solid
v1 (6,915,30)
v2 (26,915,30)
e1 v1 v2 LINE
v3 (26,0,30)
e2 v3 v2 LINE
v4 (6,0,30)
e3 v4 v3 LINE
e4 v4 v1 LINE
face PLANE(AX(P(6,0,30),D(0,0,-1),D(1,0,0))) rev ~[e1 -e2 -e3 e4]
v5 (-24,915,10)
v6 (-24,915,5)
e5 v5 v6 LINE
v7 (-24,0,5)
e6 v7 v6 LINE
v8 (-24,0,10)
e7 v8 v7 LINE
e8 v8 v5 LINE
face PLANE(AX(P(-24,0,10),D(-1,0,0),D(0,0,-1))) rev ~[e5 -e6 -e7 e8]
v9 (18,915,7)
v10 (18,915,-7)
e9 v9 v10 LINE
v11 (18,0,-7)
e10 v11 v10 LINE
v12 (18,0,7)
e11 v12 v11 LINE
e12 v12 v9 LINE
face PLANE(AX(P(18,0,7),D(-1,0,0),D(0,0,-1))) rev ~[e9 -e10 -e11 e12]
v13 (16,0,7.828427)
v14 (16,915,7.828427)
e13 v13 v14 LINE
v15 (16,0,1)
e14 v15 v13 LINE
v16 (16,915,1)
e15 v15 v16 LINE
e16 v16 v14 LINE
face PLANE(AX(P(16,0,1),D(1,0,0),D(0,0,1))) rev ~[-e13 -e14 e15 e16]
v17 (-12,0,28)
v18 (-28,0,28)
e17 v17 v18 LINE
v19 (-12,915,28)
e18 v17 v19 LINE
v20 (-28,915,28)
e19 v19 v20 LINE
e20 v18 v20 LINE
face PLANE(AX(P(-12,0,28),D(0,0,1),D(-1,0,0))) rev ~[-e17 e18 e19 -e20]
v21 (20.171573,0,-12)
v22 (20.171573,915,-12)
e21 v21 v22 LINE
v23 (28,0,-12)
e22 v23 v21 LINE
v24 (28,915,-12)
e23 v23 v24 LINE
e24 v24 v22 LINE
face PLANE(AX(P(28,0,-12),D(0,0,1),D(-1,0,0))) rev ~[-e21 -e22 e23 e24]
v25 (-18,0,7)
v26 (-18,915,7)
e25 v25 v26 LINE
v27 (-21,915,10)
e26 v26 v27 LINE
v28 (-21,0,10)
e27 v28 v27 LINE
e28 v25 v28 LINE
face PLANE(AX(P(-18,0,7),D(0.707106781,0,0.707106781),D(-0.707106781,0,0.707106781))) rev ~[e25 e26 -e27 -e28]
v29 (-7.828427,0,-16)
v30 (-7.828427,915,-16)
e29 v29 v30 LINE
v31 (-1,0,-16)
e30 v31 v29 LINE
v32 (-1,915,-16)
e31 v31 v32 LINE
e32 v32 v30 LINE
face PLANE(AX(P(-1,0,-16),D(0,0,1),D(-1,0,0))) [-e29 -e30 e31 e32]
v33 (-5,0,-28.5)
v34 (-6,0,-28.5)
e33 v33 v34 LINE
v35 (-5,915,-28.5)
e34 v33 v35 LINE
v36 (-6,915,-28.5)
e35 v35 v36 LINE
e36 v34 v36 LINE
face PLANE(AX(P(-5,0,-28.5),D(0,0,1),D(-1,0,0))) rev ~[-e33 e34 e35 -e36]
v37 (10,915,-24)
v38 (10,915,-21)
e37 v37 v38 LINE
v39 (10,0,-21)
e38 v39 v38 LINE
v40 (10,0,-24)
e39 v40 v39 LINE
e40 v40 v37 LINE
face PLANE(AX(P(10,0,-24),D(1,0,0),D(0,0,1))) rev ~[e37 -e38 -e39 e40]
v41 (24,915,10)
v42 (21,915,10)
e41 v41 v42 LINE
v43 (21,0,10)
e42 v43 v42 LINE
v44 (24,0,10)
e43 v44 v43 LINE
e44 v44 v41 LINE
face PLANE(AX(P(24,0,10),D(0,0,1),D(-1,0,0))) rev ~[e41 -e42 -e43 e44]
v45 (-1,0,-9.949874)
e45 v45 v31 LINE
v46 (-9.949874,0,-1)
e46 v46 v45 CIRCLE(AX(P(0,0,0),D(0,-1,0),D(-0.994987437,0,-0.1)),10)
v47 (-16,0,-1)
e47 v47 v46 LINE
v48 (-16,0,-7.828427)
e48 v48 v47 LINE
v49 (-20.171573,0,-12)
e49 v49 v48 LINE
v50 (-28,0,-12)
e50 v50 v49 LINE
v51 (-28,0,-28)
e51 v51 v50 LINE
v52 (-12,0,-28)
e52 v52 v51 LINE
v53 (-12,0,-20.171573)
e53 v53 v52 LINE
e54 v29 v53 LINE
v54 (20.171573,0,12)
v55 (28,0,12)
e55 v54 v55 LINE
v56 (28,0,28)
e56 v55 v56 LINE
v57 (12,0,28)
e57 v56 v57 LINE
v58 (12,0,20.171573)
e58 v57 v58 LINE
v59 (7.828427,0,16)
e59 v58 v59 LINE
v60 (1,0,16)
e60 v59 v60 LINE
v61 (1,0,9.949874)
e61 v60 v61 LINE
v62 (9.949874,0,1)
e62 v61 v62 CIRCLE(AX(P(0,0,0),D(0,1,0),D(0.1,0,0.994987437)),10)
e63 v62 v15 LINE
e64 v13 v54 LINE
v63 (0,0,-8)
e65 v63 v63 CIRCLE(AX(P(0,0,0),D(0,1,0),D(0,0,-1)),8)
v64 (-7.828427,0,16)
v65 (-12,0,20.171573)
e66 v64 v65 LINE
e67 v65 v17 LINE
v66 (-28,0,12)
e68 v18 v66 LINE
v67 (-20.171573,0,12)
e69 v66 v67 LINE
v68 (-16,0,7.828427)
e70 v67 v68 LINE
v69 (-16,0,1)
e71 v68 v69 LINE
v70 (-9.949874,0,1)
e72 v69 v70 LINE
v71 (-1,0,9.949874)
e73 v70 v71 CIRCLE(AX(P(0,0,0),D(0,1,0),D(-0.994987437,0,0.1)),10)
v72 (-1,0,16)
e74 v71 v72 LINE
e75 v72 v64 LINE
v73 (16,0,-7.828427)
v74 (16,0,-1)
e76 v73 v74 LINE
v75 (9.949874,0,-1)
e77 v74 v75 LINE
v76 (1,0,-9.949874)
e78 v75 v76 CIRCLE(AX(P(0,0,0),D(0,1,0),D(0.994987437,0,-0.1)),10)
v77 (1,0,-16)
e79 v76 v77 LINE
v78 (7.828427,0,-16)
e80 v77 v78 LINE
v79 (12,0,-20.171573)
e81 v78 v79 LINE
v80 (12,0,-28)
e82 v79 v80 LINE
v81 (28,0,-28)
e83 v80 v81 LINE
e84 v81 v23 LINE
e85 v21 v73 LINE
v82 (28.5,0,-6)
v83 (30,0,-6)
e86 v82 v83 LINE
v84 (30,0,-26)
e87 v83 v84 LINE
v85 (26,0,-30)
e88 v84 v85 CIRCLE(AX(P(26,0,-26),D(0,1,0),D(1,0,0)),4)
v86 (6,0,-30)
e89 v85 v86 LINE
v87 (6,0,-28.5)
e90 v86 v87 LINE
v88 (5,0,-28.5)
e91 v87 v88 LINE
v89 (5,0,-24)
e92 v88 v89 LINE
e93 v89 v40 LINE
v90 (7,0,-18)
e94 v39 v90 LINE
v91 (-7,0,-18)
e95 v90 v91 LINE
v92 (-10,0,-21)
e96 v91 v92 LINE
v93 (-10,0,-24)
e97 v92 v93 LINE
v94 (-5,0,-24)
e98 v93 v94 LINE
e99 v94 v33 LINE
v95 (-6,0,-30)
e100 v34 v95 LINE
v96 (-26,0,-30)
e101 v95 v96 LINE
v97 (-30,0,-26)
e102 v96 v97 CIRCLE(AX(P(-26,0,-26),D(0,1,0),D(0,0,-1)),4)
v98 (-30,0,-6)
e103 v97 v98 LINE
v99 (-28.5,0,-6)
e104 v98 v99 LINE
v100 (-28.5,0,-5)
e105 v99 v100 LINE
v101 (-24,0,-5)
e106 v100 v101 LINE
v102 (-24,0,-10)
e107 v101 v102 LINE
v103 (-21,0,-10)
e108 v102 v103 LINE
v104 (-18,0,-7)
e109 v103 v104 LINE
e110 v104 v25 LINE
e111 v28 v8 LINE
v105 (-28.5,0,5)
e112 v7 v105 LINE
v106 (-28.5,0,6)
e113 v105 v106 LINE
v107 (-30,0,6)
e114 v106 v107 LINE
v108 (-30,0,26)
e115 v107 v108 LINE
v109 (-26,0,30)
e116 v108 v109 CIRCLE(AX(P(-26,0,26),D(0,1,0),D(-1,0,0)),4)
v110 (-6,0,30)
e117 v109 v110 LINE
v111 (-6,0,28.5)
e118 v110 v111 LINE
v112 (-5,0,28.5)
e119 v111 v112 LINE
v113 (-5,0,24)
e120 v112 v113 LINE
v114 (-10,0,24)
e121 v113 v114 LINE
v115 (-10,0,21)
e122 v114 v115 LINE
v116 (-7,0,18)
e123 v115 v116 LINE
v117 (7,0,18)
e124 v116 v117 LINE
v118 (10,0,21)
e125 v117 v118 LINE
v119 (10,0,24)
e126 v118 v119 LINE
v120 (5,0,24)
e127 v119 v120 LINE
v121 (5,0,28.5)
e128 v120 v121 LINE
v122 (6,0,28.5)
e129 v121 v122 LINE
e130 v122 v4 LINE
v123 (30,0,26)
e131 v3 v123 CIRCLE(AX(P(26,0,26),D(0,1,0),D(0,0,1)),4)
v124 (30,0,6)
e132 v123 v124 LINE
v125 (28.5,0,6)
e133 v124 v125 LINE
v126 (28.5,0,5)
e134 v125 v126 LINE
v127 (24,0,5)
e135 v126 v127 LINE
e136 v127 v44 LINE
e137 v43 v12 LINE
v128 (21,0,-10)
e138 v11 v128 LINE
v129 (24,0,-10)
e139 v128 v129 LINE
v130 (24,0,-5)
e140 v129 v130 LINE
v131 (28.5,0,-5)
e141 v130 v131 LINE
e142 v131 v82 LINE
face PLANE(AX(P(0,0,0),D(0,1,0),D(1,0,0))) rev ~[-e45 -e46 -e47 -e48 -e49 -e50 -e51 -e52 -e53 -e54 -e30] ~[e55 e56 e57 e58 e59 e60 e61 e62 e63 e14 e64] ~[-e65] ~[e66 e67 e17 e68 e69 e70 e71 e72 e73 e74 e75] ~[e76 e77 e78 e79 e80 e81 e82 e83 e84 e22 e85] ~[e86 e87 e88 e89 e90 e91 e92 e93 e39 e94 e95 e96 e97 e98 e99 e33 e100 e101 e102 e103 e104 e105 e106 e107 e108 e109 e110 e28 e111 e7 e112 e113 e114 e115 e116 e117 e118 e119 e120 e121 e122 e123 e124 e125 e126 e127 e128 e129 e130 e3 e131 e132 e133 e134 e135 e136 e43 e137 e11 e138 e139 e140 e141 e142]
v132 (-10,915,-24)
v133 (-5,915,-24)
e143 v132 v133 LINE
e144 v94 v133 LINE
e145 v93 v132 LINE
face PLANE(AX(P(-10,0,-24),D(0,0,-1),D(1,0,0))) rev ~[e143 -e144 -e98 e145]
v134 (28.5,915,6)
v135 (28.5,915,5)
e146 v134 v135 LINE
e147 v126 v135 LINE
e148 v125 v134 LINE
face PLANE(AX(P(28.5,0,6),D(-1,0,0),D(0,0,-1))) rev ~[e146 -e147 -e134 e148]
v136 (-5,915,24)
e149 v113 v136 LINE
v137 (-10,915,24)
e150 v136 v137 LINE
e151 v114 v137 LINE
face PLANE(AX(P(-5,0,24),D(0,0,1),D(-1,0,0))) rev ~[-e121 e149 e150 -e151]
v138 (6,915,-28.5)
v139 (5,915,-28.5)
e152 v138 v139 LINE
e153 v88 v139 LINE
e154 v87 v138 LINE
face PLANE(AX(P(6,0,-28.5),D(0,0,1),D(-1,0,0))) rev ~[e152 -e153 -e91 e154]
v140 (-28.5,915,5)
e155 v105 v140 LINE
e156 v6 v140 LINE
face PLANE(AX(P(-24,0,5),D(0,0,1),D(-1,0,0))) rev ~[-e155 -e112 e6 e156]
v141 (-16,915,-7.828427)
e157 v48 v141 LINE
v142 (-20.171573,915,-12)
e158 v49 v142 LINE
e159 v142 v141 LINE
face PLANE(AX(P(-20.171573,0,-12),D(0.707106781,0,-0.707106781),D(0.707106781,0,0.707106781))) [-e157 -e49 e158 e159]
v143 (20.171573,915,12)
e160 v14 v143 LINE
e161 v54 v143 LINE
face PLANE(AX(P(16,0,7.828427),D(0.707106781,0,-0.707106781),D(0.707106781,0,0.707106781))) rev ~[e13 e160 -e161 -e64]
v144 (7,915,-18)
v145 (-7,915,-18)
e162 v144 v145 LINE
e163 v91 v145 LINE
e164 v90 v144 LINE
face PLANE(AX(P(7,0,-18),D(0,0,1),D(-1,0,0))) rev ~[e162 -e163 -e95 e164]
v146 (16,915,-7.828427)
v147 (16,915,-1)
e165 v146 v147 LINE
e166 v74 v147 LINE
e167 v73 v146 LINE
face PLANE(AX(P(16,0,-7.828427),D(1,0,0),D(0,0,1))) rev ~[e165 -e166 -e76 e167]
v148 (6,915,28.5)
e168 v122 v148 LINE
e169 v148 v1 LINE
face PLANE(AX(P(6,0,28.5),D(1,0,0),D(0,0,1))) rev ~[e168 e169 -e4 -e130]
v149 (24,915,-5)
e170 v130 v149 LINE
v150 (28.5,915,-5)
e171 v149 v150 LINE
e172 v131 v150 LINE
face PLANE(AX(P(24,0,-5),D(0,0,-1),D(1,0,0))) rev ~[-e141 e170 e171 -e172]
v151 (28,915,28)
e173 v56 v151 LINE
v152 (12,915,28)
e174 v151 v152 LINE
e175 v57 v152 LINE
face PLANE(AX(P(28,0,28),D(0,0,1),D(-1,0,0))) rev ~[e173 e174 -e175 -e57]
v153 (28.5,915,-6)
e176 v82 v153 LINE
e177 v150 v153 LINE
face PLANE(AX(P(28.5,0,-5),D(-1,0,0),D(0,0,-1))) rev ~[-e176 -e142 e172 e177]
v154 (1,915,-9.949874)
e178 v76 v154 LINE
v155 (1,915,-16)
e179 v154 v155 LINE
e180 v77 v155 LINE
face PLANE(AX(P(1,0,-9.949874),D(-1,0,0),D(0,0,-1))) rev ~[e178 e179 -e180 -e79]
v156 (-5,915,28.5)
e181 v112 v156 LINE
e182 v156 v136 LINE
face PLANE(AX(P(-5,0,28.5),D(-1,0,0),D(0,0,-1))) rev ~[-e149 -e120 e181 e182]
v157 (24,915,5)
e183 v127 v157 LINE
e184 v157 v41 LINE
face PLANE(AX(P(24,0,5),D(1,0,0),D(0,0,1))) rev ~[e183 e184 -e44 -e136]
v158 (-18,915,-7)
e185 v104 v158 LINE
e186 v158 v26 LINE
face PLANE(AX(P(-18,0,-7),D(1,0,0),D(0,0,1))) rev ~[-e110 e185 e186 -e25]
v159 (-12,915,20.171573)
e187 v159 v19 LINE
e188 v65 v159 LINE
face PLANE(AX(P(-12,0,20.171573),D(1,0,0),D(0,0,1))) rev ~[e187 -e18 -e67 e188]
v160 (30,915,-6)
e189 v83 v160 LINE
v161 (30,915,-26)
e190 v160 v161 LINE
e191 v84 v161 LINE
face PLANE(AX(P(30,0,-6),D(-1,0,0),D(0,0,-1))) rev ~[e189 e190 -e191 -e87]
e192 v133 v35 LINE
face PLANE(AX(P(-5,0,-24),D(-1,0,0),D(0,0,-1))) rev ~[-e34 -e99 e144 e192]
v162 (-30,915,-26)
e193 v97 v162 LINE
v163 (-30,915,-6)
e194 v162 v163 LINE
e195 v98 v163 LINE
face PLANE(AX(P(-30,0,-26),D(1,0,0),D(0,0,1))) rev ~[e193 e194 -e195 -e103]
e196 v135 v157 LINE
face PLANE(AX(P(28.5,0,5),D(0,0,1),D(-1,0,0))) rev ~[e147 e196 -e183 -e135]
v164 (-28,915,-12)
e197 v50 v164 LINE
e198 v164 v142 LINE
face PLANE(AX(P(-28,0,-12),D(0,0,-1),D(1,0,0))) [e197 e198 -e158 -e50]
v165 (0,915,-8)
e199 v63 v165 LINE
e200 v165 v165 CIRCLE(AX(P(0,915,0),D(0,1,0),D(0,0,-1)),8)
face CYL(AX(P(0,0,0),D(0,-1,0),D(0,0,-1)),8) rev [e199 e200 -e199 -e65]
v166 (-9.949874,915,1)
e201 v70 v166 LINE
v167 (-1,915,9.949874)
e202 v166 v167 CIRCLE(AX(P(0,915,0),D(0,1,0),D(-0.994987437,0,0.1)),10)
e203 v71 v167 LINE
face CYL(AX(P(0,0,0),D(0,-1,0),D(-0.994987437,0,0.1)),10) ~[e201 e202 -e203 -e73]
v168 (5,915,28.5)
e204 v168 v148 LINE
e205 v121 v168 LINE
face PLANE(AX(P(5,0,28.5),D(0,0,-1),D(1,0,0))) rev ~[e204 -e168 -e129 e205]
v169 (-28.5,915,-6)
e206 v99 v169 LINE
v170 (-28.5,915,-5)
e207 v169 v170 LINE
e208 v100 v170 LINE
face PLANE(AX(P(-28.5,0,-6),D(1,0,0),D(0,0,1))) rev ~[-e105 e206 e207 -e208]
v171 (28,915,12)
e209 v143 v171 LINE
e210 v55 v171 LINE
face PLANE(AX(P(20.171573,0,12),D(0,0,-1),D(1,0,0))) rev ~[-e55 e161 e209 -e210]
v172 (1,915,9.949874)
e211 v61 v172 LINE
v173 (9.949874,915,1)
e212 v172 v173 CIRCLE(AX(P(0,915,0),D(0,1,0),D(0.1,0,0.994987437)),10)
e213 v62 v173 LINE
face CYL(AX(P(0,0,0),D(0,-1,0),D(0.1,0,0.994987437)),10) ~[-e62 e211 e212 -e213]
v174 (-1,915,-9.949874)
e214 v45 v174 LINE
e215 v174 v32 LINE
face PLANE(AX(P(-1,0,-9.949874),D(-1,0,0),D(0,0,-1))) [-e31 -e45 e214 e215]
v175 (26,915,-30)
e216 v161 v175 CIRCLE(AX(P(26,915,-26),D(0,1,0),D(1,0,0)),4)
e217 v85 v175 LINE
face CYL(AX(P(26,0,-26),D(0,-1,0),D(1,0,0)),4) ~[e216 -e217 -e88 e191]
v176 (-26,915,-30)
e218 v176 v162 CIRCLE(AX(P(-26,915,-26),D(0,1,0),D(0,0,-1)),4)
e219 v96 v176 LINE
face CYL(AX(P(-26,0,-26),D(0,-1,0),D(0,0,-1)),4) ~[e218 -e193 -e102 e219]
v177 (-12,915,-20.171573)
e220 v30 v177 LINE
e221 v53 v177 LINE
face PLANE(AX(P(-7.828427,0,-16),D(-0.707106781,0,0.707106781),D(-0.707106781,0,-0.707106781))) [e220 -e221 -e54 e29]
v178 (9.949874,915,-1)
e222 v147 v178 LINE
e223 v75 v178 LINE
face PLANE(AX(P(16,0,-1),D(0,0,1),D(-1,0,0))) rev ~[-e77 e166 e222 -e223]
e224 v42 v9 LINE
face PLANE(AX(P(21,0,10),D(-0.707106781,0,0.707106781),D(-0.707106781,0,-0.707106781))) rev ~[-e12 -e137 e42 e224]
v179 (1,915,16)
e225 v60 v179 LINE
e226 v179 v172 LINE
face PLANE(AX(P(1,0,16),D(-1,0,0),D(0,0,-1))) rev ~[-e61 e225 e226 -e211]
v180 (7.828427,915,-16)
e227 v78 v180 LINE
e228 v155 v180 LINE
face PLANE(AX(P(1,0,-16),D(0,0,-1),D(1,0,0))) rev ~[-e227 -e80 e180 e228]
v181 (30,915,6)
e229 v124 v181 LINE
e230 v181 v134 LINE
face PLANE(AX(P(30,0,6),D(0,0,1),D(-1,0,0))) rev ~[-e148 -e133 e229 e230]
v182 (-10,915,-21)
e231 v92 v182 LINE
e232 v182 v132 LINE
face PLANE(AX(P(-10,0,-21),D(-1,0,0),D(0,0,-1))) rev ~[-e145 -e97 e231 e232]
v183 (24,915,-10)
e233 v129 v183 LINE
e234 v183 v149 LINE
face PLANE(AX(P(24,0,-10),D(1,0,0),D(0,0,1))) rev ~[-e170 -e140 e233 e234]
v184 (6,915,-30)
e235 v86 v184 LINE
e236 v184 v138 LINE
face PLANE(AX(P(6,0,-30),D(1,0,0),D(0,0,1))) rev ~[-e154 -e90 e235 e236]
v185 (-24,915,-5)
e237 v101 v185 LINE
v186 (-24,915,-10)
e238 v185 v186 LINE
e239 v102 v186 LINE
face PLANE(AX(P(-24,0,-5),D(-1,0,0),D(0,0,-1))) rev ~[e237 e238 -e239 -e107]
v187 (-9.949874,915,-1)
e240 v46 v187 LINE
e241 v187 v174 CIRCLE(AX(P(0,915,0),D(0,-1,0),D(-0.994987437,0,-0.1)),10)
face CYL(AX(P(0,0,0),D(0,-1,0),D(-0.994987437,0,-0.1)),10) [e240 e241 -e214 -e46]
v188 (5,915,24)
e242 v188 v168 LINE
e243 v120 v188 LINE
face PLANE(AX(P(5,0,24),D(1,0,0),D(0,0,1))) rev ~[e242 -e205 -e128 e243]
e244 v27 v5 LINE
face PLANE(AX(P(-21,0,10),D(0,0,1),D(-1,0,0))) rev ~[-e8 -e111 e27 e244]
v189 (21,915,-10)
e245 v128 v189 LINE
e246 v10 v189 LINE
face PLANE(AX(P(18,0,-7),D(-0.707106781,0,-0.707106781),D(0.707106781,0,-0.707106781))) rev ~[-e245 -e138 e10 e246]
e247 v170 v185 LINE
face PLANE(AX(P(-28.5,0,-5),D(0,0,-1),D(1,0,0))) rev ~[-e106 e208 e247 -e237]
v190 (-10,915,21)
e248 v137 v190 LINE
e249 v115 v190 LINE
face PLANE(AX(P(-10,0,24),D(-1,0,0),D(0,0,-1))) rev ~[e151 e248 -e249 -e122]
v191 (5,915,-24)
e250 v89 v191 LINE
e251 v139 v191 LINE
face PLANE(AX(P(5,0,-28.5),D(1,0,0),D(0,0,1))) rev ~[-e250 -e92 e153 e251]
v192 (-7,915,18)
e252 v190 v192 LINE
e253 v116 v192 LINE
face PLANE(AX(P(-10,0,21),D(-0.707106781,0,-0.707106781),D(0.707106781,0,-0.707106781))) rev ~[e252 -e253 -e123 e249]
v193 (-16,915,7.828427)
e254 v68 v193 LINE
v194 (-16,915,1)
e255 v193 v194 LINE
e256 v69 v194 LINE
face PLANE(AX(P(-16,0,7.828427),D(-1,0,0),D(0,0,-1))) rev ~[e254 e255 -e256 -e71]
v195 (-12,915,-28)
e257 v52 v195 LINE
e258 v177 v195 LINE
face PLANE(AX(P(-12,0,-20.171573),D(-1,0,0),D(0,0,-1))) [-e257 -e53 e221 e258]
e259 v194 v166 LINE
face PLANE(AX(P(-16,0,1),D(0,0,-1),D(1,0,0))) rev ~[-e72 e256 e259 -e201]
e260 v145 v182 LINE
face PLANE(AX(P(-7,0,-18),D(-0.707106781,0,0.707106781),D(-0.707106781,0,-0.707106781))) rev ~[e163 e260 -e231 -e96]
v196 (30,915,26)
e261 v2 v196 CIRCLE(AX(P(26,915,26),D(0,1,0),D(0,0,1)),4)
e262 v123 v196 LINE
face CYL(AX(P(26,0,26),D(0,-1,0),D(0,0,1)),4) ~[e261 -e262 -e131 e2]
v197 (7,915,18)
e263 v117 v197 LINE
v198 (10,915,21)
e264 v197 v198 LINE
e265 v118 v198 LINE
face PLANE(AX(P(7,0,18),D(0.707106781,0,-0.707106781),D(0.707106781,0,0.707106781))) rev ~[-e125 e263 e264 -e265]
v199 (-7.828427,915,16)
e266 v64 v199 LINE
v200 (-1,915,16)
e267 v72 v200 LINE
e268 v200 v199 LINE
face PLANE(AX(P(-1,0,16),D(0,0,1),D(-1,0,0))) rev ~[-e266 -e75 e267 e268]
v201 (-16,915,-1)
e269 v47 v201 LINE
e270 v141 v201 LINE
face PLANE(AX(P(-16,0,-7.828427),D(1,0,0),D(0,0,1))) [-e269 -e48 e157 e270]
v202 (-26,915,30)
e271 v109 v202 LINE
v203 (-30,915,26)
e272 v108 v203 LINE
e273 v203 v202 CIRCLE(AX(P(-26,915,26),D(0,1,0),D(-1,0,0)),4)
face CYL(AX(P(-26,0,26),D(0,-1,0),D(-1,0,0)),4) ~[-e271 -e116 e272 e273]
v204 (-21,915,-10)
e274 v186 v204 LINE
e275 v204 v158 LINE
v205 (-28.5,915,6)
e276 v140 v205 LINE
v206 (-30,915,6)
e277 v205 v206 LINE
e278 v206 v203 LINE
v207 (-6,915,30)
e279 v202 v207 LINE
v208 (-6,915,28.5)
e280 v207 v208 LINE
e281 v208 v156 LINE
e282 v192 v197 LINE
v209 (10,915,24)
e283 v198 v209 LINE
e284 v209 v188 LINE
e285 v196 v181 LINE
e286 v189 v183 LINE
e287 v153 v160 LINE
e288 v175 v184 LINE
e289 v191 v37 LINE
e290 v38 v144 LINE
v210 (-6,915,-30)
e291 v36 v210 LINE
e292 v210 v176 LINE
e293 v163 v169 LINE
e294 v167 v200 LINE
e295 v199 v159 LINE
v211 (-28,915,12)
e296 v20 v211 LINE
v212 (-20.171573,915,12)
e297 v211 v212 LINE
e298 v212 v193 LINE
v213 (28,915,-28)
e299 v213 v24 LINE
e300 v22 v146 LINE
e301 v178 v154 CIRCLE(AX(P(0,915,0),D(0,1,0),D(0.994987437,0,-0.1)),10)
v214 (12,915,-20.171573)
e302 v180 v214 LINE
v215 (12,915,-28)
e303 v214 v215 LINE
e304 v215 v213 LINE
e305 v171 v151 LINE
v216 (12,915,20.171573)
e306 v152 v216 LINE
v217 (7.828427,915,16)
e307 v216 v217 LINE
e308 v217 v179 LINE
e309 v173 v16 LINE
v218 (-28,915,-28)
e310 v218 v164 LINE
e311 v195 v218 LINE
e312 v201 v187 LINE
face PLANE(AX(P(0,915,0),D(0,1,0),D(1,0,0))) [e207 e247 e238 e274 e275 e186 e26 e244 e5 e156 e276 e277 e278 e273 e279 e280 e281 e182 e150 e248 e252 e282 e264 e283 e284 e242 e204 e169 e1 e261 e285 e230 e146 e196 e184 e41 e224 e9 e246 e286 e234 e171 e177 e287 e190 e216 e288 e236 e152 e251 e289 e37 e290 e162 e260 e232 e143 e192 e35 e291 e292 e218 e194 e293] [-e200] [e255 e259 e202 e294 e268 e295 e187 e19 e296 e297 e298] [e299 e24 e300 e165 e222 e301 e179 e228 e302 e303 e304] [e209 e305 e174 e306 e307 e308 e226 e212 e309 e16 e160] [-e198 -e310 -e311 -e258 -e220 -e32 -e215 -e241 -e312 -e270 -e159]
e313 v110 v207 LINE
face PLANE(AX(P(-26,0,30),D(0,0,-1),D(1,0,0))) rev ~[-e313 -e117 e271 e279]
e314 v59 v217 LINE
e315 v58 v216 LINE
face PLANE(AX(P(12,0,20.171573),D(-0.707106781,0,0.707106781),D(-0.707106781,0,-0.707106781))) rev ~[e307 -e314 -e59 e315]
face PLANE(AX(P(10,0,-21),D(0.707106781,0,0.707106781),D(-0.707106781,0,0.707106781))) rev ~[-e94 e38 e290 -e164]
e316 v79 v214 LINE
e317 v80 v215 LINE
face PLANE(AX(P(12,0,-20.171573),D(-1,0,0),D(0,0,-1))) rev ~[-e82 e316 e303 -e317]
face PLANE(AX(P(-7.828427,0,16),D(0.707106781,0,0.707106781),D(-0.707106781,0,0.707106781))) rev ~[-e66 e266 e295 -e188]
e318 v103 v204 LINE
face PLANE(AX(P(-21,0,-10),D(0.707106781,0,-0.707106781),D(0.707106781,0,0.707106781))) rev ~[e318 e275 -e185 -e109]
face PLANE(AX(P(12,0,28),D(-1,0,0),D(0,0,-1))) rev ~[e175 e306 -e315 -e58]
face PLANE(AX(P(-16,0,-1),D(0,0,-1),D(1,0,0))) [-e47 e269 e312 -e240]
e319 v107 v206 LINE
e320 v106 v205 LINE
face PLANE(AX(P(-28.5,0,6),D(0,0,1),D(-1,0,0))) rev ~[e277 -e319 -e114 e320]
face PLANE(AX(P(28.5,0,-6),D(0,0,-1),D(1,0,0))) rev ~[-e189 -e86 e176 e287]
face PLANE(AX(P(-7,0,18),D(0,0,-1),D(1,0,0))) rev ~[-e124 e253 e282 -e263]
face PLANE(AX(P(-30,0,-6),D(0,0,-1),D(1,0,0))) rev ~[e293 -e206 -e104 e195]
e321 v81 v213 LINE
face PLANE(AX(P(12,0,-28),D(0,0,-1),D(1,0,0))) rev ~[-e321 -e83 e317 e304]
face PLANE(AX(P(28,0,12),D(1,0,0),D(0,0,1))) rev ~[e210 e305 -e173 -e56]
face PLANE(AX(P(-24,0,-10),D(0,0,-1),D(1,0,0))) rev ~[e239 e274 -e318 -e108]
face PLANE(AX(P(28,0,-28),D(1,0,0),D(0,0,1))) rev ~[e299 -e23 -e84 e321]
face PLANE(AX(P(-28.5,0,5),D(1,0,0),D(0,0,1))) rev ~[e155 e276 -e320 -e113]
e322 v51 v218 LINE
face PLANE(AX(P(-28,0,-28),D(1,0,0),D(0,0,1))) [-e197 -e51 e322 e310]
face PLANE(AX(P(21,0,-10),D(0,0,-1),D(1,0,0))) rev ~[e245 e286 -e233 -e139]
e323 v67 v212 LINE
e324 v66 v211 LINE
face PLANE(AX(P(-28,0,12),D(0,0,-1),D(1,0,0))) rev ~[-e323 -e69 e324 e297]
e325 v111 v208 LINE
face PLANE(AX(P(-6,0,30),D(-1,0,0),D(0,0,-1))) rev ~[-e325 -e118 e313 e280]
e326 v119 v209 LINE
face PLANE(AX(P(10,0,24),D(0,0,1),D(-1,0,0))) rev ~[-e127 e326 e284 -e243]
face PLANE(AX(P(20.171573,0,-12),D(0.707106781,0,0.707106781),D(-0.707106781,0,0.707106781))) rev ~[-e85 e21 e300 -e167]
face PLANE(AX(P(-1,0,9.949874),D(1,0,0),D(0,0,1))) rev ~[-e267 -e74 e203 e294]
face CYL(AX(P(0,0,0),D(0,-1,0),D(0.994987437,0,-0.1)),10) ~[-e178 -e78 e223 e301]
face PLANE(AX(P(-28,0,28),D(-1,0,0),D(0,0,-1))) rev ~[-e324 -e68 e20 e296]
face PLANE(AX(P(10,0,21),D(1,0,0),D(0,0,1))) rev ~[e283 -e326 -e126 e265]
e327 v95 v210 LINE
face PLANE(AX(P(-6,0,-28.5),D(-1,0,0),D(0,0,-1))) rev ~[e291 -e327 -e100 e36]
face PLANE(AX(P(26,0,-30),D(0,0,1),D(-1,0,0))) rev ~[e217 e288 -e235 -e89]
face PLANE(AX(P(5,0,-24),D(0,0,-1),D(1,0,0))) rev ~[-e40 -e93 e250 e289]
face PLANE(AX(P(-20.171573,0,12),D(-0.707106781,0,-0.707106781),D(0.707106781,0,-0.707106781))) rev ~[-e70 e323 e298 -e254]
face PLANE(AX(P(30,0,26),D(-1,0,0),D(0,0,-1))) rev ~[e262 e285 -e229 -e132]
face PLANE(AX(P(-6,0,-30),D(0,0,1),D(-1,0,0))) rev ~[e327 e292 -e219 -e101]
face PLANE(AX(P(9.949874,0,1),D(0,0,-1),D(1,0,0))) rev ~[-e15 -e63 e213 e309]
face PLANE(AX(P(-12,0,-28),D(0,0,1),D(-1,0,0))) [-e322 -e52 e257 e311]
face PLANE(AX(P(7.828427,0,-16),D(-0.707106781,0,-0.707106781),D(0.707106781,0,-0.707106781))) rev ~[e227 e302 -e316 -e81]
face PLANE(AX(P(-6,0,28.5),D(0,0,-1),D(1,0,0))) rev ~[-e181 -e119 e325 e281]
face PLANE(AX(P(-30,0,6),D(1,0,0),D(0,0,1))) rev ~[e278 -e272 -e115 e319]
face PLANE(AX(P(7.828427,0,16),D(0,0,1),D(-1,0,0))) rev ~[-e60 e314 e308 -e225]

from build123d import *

# Parameters (mm, degrees)
SKETCH_1_R      = 8
EXTRUDE_1_DEPTH = 915


with BuildPart() as part:
    # 草图1 → 凸台-拉伸1 (new body)
    with BuildSketch(Plane(origin=(0, 0, 0), x_dir=(1, 0, 0), z_dir=(0, 1, 0))):
        with BuildLine():
            Line((-30, 5.999999999), (-28.5, 5.999999999))
            Line((-28.5, 5.999999999), (-28.5, 4.999999999))
            Line((-28.5, 4.999999999), (-24, 4.999999999))
            Line((-24, 4.999999999), (-24, 9.999999999))
            Line((-24, 9.999999999), (-21, 9.999999999))
            Line((-21, 9.999999999), (-18, 6.999999999))
            Line((-18, 6.999999999), (-18, -7.000000001))
            Line((-18, -7.000000001), (-21, -10.000000001))
            Line((-21, -10.000000001), (-24, -10.000000001))
            Line((-24, -10.000000001), (-24, -5.000000001))
            Line((-24, -5.000000001), (-28.5, -5.000000001))
            Line((-28.5, -5.000000001), (-28.5, -6.000000001))
            Line((-28.5, -6.000000001), (-30, -6.000000001))
            Line((-30, -6.000000001), (-30, -26.000000001))
            ThreePointArc((-30, -26.000000001), (-28.828427125, -28.828427126), (-26, -30.000000001))
            Line((-26, -30.000000001), (-6, -30.000000001))
            Line((-6, -30.000000001), (-6, -28.500000001))
            Line((-6, -28.500000001), (-5, -28.500000001))
            Line((-5, -28.500000001), (-5, -24.000000001))
            Line((-5, -24.000000001), (-10, -24.000000001))
            Line((-10, -24.000000001), (-10, -21.000000001))
            Line((-10, -21.000000001), (-7, -18.000000001))
            Line((-7, -18.000000001), (7, -18.000000001))
            Line((7, -18.000000001), (10, -21.000000001))
            Line((10, -21.000000001), (10, -24.000000001))
            Line((10, -24.000000001), (5, -24.000000001))
            Line((5, -24.000000001), (5, -28.500000001))
            Line((5, -28.500000001), (6, -28.500000001))
            Line((6, -28.500000001), (6, -30.000000001))
            Line((6, -30.000000001), (26, -30.000000001))
            ThreePointArc((26, -30.000000001), (28.828427125, -28.828427126), (30, -26.000000001))
            Line((30, -26.000000001), (30, -6.000000001))
            Line((30, -6.000000001), (28.5, -6.000000001))
            Line((28.5, -6.000000001), (28.5, -5.000000001))
            Line((28.5, -5.000000001), (24, -5.000000001))
            Line((24, -5.000000001), (24, -10.000000001))
            Line((24, -10.000000001), (21, -10.000000001))
            Line((21, -10.000000001), (18, -7.000000001))
            Line((18, -7.000000001), (18, 6.999999999))
            Line((18, 6.999999999), (21, 9.999999999))
            Line((21, 9.999999999), (24, 9.999999999))
            Line((24, 9.999999999), (24, 4.999999999))
            Line((24, 4.999999999), (28.5, 4.999999999))
            Line((28.5, 4.999999999), (28.5, 5.999999999))
            Line((28.5, 5.999999999), (30, 5.999999999))
            Line((30, 5.999999999), (30, 25.999999999))
            ThreePointArc((30, 25.999999999), (28.828427125, 28.828427124), (26, 29.999999999))
            Line((26, 29.999999999), (6, 29.999999999))
            Line((6, 29.999999999), (6, 28.499999999))
            Line((6, 28.499999999), (5, 28.499999999))
            Line((5, 28.499999999), (5, 23.999999999))
            Line((5, 23.999999999), (10, 23.999999999))
            Line((10, 23.999999999), (10, 20.999999999))
            Line((10, 20.999999999), (7, 17.999999999))
            Line((7, 17.999999999), (-7, 17.999999999))
            Line((-7, 17.999999999), (-10, 20.999999999))
            Line((-10, 20.999999999), (-10, 23.999999999))
            Line((-10, 23.999999999), (-5, 23.999999999))
            Line((-5, 23.999999999), (-5, 28.499999999))
            Line((-5, 28.499999999), (-6, 28.499999999))
            Line((-6, 28.499999999), (-6, 29.999999999))
            Line((-6, 29.999999999), (-26.000000001, 29.999999999))
            ThreePointArc((-26.000000001, 29.999999999), (-28.828427125, 28.828427123), (-30, 25.999999999))
            Line((-30, 25.999999999), (-30, 5.999999999))
        make_face()
        with Locations(Location((0, 0, 0), (0, 0, 90))):
            Circle(SKETCH_1_R, mode=Mode.SUBTRACT)
        with BuildLine():
            Line((-16, 1), (-9.949874371, 1))
            ThreePointArc((-9.949874371, 1), (-7.071067812, 7.071067811), (-1.000000001, 9.949874371))
            Line((-1.000000001, 9.949874371), (-1.000000001, 16))
            Line((-1.000000001, 16), (-7.828427125, 16))
            Line((-7.828427125, 16), (-12, 20.171572875))
            Line((-12, 20.171572875), (-12, 28))
            Line((-12, 28), (-28, 28))
            Line((-28, 28), (-28, 12))
            Line((-28, 12), (-20.171572875, 12))
            Line((-20.171572875, 12), (-16, 7.828427125))
            Line((-16, 7.828427125), (-16, 1))
        make_face(mode=Mode.SUBTRACT)
        with BuildLine():
            Line((1, 9.949874371), (1, 16))
            Line((1, 16), (7.828427125, 16))
            Line((7.828427125, 16), (12, 20.171572875))
            Line((12, 20.171572875), (12, 28))
            Line((12, 28), (28, 28))
            Line((28, 28), (28, 12.000000001))
            Line((28, 12.000000001), (20.171572875, 12.000000001))
            Line((20.171572875, 12.000000001), (16, 7.828427126))
            Line((16, 7.828427126), (16, 1.000000001))
            Line((16, 1.000000001), (9.949874371, 1.000000001))
            ThreePointArc((9.949874371, 1.000000001), (7.071067811, 7.071067812), (1, 9.949874371))
        make_face(mode=Mode.SUBTRACT)
        with BuildLine():
            Line((9.949874371, -1), (16, -1))
            Line((16, -1), (16, -7.828427125))
            Line((16, -7.828427125), (20.171572875, -12))
            Line((20.171572875, -12), (28.000000001, -12))
            Line((28.000000001, -12), (28.000000001, -28))
            Line((28.000000001, -28), (12.000000001, -28))
            Line((12.000000001, -28), (12.000000001, -20.171572875))
            Line((12.000000001, -20.171572875), (7.828427126, -16))
            Line((7.828427126, -16), (1.000000001, -16))
            Line((1.000000001, -16), (1.000000001, -9.949874371))
            ThreePointArc((1.000000001, -9.949874371), (7.071067812, -7.071067811), (9.949874371, -1))
        make_face(mode=Mode.SUBTRACT)
        with BuildLine():
            Line((-1, -9.949874371), (-1, -16.000000001))
            Line((-1, -16.000000001), (-7.828427125, -16.000000001))
            Line((-7.828427125, -16.000000001), (-12, -20.171572876))
            Line((-12, -20.171572876), (-12, -28.000000001))
            Line((-12, -28.000000001), (-28, -28.000000001))
            Line((-28, -28.000000001), (-28, -12.000000001))
            Line((-28, -12.000000001), (-20.171572875, -12.000000001))
            Line((-20.171572875, -12.000000001), (-16, -7.828427126))
            Line((-16, -7.828427126), (-16, -1.000000001))
            Line((-16, -1.000000001), (-9.949874371, -1.000000001))
            ThreePointArc((-9.949874371, -1.000000001), (-7.071067811, -7.071067812), (-1, -9.949874371))
        make_face(mode=Mode.SUBTRACT)
    extrude(amount=EXTRUDE_1_DEPTH)


solid = part.part
